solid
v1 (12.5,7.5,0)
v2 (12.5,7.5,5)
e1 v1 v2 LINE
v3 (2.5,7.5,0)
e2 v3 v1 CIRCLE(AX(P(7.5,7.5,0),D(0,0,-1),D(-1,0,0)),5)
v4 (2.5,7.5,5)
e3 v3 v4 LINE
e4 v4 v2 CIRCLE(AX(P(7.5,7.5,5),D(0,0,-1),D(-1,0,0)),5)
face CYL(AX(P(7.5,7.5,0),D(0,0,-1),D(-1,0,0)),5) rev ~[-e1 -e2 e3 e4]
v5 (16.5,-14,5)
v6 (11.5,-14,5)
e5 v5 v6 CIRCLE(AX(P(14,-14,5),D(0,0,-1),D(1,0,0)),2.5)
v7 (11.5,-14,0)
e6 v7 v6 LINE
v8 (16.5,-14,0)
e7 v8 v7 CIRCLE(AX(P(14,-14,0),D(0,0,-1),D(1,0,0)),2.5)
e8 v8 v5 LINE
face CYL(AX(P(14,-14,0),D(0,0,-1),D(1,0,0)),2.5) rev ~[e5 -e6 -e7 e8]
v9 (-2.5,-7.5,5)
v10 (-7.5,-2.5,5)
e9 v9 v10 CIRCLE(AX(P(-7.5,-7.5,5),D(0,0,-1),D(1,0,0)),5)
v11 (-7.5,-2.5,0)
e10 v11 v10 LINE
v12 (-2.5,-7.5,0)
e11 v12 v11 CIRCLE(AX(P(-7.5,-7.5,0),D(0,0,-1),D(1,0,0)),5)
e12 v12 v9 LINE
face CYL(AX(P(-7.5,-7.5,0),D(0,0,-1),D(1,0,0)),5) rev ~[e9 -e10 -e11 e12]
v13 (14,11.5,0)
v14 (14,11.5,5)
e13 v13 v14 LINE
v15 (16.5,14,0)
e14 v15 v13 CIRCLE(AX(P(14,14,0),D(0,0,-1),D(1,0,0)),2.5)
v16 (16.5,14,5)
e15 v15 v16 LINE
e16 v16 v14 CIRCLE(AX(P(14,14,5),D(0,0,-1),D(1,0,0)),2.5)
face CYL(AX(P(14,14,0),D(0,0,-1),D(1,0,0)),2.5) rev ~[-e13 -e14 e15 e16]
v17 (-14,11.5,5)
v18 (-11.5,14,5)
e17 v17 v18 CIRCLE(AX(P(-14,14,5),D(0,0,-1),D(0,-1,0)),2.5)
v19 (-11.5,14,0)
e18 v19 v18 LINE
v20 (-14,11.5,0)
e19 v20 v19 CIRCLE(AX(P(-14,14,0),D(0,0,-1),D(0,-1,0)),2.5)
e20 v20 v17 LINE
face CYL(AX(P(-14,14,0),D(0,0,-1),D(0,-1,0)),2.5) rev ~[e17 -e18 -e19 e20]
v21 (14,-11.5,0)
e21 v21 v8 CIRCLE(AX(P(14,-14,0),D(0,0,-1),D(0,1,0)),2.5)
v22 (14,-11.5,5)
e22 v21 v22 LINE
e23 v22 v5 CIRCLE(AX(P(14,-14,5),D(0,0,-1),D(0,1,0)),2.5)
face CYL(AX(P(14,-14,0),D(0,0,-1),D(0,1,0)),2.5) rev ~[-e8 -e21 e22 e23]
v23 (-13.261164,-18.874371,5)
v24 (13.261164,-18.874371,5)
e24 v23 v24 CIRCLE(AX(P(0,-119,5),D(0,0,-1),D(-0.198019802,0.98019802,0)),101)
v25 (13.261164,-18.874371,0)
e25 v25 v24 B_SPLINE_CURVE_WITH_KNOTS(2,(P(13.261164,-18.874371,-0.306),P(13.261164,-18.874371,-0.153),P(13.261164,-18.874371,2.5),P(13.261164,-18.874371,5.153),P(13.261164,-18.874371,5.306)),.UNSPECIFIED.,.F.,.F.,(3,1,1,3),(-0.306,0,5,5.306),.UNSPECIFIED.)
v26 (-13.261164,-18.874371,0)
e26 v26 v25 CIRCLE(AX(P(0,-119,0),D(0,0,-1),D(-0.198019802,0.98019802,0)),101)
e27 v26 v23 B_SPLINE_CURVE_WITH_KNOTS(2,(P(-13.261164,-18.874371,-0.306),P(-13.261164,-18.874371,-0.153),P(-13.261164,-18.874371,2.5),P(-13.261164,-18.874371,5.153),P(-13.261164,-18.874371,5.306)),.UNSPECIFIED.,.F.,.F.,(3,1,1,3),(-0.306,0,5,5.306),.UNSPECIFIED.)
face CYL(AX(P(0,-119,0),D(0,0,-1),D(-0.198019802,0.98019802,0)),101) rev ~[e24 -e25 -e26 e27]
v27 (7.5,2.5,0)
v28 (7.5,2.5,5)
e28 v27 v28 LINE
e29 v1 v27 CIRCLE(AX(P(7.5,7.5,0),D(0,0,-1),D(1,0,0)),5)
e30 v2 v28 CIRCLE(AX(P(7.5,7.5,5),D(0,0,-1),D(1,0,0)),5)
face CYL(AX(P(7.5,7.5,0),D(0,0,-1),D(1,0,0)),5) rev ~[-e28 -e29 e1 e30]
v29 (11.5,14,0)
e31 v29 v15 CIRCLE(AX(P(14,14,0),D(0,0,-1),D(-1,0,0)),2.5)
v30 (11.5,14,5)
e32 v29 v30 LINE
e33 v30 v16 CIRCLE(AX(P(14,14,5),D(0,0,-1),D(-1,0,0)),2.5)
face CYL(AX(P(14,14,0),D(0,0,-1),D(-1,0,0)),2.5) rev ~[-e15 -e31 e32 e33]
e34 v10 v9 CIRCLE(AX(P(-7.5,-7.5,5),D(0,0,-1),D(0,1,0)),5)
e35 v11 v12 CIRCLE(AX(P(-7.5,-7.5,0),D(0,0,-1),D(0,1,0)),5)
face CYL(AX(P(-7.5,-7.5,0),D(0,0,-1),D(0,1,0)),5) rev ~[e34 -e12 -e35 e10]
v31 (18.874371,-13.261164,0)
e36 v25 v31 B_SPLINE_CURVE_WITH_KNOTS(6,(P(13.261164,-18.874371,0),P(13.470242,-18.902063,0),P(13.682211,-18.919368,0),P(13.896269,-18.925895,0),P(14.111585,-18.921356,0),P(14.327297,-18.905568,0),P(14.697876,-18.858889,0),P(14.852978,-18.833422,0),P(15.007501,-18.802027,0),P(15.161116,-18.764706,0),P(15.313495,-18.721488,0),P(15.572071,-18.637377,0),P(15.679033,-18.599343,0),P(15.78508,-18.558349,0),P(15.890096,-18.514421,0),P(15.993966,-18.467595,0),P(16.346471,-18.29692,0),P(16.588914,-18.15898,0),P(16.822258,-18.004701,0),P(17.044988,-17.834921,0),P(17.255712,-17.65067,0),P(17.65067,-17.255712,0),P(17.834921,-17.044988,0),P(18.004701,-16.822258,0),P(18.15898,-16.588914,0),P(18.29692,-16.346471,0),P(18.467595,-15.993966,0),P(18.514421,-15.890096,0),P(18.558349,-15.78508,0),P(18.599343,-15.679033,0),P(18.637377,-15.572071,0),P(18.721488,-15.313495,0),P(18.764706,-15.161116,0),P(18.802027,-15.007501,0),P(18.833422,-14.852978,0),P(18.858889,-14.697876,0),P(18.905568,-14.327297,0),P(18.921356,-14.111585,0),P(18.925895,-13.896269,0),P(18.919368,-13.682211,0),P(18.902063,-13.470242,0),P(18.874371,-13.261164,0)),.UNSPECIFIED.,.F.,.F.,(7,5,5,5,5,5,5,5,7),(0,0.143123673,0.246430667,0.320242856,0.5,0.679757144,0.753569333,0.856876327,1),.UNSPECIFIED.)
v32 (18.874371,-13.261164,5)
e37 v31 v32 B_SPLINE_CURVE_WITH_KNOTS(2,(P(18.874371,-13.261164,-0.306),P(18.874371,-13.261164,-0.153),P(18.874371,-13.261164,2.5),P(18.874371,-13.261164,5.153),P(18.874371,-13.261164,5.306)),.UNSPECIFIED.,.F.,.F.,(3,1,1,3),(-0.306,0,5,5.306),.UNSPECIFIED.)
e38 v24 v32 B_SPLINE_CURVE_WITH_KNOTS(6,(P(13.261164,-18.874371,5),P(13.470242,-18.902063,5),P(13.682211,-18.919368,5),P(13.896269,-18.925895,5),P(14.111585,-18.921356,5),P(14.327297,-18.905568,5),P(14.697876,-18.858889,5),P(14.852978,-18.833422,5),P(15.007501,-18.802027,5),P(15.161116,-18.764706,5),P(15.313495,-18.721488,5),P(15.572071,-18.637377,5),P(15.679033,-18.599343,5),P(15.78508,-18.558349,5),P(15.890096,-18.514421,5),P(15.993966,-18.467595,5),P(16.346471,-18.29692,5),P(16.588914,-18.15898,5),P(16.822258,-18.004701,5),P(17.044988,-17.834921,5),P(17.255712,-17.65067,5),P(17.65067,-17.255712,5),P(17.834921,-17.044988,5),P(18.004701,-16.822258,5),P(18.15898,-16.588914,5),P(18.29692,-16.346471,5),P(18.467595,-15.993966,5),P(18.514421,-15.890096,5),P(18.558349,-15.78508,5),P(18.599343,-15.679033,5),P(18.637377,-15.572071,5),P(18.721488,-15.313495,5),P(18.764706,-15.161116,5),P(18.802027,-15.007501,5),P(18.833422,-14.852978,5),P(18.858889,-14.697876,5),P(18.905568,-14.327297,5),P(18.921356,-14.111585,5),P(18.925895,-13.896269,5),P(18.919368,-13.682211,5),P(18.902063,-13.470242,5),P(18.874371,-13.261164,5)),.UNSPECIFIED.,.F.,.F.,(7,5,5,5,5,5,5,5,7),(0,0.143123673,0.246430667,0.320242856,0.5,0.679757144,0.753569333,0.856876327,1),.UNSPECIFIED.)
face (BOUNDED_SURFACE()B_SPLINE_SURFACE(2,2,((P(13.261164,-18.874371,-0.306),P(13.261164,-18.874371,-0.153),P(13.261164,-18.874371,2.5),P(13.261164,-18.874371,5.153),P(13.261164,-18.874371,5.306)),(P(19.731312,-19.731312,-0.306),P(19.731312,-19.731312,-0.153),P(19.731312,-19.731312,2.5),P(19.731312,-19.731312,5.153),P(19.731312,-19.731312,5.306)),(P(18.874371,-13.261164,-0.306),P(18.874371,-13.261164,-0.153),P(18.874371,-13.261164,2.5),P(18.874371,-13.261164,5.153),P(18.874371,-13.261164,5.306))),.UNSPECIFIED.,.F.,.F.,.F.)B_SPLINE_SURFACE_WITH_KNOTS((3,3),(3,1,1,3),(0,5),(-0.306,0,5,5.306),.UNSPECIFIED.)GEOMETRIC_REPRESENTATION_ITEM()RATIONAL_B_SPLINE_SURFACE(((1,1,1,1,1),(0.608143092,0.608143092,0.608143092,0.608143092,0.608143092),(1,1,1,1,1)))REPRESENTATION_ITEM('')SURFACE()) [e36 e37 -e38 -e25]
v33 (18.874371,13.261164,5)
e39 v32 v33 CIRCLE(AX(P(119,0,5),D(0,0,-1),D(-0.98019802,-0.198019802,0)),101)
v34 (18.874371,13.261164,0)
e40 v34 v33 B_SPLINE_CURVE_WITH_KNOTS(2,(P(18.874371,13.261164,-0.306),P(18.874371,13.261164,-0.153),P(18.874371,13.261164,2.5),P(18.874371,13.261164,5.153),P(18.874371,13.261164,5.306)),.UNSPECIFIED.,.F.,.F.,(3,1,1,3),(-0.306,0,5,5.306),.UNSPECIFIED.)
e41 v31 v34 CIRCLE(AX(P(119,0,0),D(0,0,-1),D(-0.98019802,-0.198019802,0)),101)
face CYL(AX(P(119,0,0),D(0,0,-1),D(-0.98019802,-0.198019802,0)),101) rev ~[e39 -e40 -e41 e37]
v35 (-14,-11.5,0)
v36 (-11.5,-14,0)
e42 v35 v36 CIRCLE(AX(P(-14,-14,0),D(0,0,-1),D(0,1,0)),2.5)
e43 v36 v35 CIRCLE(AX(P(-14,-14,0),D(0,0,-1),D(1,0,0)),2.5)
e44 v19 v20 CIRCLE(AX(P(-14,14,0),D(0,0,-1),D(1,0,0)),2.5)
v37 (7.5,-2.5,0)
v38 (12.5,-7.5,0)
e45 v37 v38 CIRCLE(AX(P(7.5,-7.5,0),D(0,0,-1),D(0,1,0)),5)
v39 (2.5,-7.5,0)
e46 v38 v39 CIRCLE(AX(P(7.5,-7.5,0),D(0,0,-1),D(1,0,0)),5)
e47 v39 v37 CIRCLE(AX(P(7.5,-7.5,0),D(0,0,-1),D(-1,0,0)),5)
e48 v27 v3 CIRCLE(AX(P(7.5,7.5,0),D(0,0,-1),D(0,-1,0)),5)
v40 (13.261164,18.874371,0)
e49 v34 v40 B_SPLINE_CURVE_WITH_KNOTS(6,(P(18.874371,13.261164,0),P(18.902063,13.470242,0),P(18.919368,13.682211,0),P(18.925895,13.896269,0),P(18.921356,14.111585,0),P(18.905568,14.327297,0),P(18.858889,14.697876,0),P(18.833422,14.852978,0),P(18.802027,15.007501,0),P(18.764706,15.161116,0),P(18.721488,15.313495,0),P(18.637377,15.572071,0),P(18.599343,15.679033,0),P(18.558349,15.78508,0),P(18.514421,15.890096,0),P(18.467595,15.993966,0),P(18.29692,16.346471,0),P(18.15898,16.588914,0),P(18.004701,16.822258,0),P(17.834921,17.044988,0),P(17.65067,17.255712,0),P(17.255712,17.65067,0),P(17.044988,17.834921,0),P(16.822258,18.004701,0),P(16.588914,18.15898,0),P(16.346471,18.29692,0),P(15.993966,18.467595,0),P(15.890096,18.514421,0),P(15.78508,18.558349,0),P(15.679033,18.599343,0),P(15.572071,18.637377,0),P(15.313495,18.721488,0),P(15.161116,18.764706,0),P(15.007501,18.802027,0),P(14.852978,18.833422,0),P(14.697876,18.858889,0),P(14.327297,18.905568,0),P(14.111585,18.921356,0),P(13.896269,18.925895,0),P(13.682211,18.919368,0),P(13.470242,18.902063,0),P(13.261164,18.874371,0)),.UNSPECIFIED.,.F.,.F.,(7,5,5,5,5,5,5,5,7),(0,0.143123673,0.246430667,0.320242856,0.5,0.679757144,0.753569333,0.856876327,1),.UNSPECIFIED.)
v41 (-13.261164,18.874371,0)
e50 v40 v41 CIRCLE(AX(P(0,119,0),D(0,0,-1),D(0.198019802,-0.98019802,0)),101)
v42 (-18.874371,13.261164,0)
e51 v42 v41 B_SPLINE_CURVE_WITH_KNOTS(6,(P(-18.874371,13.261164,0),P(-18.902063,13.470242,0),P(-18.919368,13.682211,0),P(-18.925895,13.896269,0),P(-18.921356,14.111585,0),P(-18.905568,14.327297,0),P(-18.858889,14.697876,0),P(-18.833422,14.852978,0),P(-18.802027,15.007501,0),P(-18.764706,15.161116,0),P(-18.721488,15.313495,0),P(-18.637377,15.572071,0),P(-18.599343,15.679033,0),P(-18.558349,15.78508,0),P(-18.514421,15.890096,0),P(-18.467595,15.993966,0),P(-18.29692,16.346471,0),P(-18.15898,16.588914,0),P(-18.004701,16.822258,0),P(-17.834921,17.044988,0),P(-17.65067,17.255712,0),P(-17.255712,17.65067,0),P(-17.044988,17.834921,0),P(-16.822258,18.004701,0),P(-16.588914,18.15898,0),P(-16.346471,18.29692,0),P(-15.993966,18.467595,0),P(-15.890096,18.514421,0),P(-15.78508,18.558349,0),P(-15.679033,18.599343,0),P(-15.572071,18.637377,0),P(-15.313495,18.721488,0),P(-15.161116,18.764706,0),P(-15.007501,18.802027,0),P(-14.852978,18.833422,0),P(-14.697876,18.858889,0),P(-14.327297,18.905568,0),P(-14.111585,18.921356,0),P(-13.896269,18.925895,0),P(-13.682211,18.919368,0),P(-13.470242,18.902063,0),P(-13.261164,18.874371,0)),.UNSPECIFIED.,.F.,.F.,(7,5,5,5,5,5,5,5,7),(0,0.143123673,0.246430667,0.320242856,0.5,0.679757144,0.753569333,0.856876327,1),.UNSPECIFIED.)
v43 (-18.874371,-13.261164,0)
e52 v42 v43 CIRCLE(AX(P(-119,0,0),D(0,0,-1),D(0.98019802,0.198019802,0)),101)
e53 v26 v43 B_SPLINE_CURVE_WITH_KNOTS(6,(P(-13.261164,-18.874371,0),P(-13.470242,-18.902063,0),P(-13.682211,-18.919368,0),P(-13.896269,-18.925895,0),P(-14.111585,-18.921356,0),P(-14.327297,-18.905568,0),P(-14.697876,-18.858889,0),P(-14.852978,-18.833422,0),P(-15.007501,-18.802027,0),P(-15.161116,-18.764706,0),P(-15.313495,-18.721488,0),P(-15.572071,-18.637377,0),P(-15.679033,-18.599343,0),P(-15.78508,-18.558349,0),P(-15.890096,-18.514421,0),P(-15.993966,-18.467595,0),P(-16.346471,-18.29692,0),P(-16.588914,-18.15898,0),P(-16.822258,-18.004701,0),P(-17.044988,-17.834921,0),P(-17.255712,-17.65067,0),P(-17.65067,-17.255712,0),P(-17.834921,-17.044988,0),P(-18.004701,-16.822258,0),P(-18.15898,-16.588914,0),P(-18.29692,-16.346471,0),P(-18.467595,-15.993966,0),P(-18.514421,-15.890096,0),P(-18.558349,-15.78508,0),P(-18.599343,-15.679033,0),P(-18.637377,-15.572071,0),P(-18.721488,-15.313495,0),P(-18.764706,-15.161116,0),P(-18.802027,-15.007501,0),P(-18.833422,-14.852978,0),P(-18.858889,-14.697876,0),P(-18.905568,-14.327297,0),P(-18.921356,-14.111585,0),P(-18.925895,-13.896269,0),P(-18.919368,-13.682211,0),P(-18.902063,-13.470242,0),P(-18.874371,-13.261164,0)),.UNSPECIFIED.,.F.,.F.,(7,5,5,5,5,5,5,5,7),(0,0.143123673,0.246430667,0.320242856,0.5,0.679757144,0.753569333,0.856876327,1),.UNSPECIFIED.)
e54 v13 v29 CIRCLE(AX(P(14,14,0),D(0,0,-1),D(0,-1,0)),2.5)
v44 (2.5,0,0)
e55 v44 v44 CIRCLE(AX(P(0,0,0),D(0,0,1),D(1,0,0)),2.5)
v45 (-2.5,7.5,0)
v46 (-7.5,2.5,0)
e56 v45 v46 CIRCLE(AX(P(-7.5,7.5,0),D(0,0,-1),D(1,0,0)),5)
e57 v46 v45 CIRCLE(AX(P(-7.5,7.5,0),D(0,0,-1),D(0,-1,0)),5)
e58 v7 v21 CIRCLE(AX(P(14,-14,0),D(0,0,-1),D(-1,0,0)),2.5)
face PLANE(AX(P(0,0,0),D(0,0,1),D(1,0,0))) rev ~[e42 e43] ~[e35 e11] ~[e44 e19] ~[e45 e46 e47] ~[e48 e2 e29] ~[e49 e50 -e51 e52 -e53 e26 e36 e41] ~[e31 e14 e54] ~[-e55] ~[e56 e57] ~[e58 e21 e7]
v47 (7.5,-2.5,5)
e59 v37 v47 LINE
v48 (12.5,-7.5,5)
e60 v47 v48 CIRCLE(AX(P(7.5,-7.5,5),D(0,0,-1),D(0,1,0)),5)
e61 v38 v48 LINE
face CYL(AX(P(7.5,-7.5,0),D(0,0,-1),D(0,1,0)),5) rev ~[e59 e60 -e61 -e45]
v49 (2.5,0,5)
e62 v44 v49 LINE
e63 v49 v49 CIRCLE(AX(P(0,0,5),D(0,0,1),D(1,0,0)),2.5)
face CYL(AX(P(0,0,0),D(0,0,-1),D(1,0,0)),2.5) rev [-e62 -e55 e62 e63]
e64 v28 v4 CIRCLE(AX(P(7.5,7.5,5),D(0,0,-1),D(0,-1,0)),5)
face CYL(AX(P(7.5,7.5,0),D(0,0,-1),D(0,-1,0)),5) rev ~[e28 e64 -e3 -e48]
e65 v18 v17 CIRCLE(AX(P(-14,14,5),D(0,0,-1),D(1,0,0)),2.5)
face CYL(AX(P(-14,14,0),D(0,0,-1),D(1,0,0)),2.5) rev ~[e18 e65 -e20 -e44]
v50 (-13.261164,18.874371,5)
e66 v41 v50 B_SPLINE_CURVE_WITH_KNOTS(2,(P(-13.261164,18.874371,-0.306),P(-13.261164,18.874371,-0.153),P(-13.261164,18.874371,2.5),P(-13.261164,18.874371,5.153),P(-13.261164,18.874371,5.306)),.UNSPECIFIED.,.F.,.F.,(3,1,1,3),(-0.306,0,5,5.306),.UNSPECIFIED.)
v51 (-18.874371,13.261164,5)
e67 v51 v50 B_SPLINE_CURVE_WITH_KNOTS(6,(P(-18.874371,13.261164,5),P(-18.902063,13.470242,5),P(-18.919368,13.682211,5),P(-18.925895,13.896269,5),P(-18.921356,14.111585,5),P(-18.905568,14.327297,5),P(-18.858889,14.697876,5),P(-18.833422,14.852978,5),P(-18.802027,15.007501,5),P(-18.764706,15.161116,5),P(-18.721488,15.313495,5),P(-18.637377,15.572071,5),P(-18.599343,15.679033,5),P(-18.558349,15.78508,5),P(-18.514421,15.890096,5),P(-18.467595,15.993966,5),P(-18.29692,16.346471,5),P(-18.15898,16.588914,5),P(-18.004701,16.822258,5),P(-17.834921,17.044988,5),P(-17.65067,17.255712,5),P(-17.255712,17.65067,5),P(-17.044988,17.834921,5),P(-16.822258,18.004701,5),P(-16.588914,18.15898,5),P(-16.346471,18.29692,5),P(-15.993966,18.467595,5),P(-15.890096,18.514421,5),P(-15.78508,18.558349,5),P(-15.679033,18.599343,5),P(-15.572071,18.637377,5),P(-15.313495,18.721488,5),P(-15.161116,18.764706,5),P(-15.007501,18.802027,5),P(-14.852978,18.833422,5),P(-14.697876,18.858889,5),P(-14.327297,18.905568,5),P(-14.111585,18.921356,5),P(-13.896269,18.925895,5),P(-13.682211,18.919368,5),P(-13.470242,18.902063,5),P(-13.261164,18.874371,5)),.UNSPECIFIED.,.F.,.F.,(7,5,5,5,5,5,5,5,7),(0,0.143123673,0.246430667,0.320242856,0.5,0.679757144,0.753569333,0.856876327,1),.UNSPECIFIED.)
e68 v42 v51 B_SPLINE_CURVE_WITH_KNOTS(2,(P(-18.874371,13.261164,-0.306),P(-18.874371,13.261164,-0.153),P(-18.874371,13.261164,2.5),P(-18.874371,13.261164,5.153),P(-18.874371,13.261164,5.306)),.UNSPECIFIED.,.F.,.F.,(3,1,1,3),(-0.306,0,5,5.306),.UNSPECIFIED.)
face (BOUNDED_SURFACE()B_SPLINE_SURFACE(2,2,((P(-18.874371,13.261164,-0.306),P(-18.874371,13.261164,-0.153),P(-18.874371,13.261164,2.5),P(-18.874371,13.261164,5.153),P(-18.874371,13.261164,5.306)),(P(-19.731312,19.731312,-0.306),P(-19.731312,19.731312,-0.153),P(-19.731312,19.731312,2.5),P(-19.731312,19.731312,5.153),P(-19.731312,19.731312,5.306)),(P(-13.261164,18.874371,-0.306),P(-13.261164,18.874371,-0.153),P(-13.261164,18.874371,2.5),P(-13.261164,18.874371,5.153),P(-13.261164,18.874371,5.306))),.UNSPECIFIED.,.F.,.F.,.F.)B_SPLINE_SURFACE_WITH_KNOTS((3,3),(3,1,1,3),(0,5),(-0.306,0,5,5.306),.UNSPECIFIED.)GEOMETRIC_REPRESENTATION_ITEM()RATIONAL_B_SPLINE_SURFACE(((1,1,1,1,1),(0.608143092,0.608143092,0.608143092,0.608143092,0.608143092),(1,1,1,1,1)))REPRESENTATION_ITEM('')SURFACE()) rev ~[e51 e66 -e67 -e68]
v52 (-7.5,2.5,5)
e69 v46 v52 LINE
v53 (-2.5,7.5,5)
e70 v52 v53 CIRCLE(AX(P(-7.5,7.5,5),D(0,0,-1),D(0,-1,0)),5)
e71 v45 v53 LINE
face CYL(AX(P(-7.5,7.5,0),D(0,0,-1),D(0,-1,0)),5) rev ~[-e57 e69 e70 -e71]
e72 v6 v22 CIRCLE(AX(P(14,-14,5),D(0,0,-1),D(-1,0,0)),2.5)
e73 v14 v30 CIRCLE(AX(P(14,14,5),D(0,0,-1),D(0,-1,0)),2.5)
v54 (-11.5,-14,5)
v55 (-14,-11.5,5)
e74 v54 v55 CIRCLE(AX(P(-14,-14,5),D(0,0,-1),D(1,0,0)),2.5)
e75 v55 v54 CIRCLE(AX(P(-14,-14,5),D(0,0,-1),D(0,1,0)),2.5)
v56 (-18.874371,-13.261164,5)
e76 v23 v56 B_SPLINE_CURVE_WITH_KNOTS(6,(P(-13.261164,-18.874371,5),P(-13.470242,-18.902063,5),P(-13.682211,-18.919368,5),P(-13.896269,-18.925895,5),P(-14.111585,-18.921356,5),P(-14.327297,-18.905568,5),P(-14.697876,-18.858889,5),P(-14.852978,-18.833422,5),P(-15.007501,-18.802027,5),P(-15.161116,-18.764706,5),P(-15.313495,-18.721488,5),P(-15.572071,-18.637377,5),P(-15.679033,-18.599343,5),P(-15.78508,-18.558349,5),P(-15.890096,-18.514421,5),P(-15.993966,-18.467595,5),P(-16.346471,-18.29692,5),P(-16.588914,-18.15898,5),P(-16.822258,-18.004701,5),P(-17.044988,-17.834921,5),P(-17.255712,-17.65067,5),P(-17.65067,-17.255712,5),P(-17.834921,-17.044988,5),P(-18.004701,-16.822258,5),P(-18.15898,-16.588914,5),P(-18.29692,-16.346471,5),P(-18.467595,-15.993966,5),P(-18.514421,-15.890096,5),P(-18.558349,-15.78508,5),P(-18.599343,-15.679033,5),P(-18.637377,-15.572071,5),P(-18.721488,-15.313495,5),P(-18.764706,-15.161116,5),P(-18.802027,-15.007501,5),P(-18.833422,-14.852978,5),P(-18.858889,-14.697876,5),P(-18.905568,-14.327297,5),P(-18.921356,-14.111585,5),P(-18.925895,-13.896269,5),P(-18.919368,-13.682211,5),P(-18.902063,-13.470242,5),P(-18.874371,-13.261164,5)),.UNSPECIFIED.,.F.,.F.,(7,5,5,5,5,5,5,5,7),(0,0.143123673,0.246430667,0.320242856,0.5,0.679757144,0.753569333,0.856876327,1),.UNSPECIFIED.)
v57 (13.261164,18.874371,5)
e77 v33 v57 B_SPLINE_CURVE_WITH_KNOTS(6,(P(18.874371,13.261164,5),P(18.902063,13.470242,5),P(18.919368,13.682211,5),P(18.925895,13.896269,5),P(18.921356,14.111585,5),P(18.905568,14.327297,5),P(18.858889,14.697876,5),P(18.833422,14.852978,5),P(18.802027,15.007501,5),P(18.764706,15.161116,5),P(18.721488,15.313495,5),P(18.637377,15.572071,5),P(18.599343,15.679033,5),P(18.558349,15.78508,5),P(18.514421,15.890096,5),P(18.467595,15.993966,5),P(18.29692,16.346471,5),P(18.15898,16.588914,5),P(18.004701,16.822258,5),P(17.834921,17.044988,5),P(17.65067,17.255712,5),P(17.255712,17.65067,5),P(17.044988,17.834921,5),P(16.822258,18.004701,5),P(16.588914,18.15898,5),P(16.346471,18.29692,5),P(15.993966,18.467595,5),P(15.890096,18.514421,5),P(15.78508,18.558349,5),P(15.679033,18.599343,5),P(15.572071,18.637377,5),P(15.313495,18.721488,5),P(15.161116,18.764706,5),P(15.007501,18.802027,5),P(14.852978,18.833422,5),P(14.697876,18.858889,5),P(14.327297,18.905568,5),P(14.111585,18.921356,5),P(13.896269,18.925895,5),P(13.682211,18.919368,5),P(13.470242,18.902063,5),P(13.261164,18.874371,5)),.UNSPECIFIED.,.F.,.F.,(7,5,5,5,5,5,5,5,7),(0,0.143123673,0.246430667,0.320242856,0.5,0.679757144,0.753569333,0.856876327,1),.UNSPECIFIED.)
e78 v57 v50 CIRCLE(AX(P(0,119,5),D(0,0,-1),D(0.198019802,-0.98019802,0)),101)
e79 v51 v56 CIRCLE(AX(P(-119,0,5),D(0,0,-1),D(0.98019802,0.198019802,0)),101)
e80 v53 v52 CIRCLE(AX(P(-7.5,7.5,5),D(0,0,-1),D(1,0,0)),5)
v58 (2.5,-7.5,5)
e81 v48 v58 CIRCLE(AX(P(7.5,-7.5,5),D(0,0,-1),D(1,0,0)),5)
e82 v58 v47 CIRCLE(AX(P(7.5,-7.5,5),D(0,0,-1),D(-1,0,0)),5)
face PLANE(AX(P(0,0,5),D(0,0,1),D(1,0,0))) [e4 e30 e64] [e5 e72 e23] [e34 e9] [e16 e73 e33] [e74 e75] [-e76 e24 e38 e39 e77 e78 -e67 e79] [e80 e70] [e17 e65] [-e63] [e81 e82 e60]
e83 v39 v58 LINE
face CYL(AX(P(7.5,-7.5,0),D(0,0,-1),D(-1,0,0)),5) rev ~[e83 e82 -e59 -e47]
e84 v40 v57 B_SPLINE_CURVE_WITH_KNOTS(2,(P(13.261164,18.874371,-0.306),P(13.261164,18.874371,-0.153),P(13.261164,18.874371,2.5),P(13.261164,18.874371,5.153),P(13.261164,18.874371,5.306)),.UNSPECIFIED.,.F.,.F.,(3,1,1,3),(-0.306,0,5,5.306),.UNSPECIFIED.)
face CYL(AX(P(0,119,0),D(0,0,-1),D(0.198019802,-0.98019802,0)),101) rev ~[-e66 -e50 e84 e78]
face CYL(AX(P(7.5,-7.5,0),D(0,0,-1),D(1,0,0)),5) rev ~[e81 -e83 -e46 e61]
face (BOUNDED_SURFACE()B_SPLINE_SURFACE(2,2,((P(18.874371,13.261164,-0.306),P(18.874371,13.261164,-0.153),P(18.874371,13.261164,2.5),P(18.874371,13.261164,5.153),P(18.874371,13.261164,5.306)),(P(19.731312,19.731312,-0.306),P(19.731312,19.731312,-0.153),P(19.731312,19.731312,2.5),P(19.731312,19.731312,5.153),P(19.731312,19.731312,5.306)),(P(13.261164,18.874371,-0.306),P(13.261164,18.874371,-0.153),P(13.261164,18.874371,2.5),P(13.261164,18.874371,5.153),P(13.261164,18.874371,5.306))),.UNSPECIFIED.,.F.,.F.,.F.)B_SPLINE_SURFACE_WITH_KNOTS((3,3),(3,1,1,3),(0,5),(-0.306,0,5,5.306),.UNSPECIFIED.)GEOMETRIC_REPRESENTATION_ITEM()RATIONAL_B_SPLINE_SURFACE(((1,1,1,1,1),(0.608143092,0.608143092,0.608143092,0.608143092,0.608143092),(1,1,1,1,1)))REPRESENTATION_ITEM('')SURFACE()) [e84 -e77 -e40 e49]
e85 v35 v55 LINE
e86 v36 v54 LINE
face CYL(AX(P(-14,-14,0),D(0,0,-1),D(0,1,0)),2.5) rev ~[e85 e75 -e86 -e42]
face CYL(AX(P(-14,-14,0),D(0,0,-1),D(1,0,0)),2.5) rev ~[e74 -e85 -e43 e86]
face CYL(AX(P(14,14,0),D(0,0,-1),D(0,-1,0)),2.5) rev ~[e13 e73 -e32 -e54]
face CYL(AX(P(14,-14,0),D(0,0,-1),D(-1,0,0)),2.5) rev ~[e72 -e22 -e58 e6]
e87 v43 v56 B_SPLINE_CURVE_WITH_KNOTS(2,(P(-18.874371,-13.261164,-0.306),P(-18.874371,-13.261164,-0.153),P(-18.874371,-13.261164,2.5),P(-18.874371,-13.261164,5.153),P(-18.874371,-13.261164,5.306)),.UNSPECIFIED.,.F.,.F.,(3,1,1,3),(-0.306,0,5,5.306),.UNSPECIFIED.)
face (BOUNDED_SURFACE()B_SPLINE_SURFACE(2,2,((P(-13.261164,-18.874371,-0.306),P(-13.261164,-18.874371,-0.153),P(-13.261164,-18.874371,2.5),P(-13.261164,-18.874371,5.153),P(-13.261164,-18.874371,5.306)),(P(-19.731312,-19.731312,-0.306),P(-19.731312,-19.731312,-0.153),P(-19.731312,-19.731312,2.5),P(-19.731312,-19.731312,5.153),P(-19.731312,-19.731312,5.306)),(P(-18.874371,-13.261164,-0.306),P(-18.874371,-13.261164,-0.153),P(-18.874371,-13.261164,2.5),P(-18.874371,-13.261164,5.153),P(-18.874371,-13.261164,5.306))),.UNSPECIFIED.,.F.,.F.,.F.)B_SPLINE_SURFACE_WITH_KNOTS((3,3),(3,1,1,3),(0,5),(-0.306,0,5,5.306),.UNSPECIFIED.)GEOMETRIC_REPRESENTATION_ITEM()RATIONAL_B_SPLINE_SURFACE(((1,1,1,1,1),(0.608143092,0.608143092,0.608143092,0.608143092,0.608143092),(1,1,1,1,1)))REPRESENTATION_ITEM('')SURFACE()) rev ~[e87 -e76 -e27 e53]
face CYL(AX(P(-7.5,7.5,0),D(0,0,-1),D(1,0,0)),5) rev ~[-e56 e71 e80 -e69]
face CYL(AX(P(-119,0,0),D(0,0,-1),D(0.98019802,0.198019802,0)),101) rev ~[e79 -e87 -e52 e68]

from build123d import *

# Parameters (mm, degrees)
F0_R     = 2.5
F1_DEPTH = 5
F2_R     = 5


with BuildPart() as f1:
    # F0 (on Top) → F1 (new body)
    with BuildSketch(Plane.XY):
        with BuildLine():
            ThreePointArc((-20, -20), (0, -18), (20, -20))
            ThreePointArc((20, -20), (18, 0), (20, 20))
            ThreePointArc((20, 20), (0, 18), (-20, 20))
            ThreePointArc((-20, 20), (-18, 0), (-20, -20))
        make_face()
        with BuildLine():
            ThreePointArc((16.5, 14), (15.767766953, 12.232233047), (14, 11.5))
            Line((14, 11.5), (14, -11.5))
            ThreePointArc((14, -11.5), (15.767766953, -12.232233047), (16.5, -14))
            ThreePointArc((16.5, -14), (14, -16.5), (11.5, -14))
            Line((11.5, -14), (-11.5, -14))
            ThreePointArc((-11.5, -14), (-15.767766953, -15.767766953), (-14, -11.5))
            Line((-14, -11.5), (-14, 11.5))
            ThreePointArc((-14, 11.5), (-15.767766953, 15.767766953), (-11.5, 14))
            Line((-11.5, 14), (11.5, 14))
            ThreePointArc((11.5, 14), (14, 16.5), (16.5, 14))
        make_face(mode=Mode.SUBTRACT)
        with BuildLine():
            Line((14, -11.5), (14, 11.5))
            ThreePointArc((14, 11.5), (12.232233047, 12.232233047), (11.5, 14))
            Line((11.5, 14), (-11.5, 14))
            ThreePointArc((-11.5, 14), (-12.232233047, 12.232233047), (-14, 11.5))
            Line((-14, 11.5), (-14, -11.5))
            ThreePointArc((-14, -11.5), (-12.232233047, -12.232233047), (-11.5, -14))
            Line((-11.5, -14), (11.5, -14))
            ThreePointArc((11.5, -14), (12.232233047, -12.232233047), (14, -11.5))
        make_face()
        with BuildLine():
            Line((2.5, -7.5), (-2.5, -7.5))
            ThreePointArc((-2.5, -7.5), (-11.0355339059, -11.0355339059), (-7.5, -2.5))
            Line((-7.5, -2.5), (-7.5, 2.5))
            ThreePointArc((-7.5, 2.5), (-11.0355339059, 11.0355339059), (-2.5, 7.5))
            Line((-2.5, 7.5), (2.5, 7.5))
            ThreePointArc((2.5, 7.5), (7.5, 12.5), (12.5, 7.5))
            ThreePointArc((12.5, 7.5), (11.0355339059, 3.9644660941), (7.5, 2.5))
            Line((7.5, 2.5), (7.5, -2.5))
            ThreePointArc((7.5, -2.5), (11.0355339059, -3.9644660941), (12.5, -7.5))
            ThreePointArc((12.5, -7.5), (7.5, -12.5), (2.5, -7.5))
        make_face(mode=Mode.SUBTRACT)
        with BuildLine():
            ThreePointArc((-7.5, -2.5), (-3.9644660941, -3.9644660941), (-2.5, -7.5))
            Line((-2.5, -7.5), (2.5, -7.5))
            ThreePointArc((2.5, -7.5), (3.9644660941, -3.9644660941), (7.5, -2.5))
            Line((7.5, -2.5), (7.5, 2.5))
            ThreePointArc((7.5, 2.5), (3.9644660941, 3.9644660941), (2.5, 7.5))
            Line((2.5, 7.5), (-2.5, 7.5))
            ThreePointArc((-2.5, 7.5), (-3.9644660941, 3.9644660941), (-7.5, 2.5))
            Line((-7.5, 2.5), (-7.5, -2.5))
        make_face()
        Circle(F0_R, mode=Mode.SUBTRACT)
    extrude(amount=F1_DEPTH)

    # F2
    f2_edges = [f1.edges().sort_by_distance(p)[0] for p in [
        (20, -20, 2.5),
        (-20, -20, 2.5),
        (20, 20, 2.5),
        (-20, 20, 2.5),
    ]]
    fillet(f2_edges, radius=F2_R)


solid = f1.part
